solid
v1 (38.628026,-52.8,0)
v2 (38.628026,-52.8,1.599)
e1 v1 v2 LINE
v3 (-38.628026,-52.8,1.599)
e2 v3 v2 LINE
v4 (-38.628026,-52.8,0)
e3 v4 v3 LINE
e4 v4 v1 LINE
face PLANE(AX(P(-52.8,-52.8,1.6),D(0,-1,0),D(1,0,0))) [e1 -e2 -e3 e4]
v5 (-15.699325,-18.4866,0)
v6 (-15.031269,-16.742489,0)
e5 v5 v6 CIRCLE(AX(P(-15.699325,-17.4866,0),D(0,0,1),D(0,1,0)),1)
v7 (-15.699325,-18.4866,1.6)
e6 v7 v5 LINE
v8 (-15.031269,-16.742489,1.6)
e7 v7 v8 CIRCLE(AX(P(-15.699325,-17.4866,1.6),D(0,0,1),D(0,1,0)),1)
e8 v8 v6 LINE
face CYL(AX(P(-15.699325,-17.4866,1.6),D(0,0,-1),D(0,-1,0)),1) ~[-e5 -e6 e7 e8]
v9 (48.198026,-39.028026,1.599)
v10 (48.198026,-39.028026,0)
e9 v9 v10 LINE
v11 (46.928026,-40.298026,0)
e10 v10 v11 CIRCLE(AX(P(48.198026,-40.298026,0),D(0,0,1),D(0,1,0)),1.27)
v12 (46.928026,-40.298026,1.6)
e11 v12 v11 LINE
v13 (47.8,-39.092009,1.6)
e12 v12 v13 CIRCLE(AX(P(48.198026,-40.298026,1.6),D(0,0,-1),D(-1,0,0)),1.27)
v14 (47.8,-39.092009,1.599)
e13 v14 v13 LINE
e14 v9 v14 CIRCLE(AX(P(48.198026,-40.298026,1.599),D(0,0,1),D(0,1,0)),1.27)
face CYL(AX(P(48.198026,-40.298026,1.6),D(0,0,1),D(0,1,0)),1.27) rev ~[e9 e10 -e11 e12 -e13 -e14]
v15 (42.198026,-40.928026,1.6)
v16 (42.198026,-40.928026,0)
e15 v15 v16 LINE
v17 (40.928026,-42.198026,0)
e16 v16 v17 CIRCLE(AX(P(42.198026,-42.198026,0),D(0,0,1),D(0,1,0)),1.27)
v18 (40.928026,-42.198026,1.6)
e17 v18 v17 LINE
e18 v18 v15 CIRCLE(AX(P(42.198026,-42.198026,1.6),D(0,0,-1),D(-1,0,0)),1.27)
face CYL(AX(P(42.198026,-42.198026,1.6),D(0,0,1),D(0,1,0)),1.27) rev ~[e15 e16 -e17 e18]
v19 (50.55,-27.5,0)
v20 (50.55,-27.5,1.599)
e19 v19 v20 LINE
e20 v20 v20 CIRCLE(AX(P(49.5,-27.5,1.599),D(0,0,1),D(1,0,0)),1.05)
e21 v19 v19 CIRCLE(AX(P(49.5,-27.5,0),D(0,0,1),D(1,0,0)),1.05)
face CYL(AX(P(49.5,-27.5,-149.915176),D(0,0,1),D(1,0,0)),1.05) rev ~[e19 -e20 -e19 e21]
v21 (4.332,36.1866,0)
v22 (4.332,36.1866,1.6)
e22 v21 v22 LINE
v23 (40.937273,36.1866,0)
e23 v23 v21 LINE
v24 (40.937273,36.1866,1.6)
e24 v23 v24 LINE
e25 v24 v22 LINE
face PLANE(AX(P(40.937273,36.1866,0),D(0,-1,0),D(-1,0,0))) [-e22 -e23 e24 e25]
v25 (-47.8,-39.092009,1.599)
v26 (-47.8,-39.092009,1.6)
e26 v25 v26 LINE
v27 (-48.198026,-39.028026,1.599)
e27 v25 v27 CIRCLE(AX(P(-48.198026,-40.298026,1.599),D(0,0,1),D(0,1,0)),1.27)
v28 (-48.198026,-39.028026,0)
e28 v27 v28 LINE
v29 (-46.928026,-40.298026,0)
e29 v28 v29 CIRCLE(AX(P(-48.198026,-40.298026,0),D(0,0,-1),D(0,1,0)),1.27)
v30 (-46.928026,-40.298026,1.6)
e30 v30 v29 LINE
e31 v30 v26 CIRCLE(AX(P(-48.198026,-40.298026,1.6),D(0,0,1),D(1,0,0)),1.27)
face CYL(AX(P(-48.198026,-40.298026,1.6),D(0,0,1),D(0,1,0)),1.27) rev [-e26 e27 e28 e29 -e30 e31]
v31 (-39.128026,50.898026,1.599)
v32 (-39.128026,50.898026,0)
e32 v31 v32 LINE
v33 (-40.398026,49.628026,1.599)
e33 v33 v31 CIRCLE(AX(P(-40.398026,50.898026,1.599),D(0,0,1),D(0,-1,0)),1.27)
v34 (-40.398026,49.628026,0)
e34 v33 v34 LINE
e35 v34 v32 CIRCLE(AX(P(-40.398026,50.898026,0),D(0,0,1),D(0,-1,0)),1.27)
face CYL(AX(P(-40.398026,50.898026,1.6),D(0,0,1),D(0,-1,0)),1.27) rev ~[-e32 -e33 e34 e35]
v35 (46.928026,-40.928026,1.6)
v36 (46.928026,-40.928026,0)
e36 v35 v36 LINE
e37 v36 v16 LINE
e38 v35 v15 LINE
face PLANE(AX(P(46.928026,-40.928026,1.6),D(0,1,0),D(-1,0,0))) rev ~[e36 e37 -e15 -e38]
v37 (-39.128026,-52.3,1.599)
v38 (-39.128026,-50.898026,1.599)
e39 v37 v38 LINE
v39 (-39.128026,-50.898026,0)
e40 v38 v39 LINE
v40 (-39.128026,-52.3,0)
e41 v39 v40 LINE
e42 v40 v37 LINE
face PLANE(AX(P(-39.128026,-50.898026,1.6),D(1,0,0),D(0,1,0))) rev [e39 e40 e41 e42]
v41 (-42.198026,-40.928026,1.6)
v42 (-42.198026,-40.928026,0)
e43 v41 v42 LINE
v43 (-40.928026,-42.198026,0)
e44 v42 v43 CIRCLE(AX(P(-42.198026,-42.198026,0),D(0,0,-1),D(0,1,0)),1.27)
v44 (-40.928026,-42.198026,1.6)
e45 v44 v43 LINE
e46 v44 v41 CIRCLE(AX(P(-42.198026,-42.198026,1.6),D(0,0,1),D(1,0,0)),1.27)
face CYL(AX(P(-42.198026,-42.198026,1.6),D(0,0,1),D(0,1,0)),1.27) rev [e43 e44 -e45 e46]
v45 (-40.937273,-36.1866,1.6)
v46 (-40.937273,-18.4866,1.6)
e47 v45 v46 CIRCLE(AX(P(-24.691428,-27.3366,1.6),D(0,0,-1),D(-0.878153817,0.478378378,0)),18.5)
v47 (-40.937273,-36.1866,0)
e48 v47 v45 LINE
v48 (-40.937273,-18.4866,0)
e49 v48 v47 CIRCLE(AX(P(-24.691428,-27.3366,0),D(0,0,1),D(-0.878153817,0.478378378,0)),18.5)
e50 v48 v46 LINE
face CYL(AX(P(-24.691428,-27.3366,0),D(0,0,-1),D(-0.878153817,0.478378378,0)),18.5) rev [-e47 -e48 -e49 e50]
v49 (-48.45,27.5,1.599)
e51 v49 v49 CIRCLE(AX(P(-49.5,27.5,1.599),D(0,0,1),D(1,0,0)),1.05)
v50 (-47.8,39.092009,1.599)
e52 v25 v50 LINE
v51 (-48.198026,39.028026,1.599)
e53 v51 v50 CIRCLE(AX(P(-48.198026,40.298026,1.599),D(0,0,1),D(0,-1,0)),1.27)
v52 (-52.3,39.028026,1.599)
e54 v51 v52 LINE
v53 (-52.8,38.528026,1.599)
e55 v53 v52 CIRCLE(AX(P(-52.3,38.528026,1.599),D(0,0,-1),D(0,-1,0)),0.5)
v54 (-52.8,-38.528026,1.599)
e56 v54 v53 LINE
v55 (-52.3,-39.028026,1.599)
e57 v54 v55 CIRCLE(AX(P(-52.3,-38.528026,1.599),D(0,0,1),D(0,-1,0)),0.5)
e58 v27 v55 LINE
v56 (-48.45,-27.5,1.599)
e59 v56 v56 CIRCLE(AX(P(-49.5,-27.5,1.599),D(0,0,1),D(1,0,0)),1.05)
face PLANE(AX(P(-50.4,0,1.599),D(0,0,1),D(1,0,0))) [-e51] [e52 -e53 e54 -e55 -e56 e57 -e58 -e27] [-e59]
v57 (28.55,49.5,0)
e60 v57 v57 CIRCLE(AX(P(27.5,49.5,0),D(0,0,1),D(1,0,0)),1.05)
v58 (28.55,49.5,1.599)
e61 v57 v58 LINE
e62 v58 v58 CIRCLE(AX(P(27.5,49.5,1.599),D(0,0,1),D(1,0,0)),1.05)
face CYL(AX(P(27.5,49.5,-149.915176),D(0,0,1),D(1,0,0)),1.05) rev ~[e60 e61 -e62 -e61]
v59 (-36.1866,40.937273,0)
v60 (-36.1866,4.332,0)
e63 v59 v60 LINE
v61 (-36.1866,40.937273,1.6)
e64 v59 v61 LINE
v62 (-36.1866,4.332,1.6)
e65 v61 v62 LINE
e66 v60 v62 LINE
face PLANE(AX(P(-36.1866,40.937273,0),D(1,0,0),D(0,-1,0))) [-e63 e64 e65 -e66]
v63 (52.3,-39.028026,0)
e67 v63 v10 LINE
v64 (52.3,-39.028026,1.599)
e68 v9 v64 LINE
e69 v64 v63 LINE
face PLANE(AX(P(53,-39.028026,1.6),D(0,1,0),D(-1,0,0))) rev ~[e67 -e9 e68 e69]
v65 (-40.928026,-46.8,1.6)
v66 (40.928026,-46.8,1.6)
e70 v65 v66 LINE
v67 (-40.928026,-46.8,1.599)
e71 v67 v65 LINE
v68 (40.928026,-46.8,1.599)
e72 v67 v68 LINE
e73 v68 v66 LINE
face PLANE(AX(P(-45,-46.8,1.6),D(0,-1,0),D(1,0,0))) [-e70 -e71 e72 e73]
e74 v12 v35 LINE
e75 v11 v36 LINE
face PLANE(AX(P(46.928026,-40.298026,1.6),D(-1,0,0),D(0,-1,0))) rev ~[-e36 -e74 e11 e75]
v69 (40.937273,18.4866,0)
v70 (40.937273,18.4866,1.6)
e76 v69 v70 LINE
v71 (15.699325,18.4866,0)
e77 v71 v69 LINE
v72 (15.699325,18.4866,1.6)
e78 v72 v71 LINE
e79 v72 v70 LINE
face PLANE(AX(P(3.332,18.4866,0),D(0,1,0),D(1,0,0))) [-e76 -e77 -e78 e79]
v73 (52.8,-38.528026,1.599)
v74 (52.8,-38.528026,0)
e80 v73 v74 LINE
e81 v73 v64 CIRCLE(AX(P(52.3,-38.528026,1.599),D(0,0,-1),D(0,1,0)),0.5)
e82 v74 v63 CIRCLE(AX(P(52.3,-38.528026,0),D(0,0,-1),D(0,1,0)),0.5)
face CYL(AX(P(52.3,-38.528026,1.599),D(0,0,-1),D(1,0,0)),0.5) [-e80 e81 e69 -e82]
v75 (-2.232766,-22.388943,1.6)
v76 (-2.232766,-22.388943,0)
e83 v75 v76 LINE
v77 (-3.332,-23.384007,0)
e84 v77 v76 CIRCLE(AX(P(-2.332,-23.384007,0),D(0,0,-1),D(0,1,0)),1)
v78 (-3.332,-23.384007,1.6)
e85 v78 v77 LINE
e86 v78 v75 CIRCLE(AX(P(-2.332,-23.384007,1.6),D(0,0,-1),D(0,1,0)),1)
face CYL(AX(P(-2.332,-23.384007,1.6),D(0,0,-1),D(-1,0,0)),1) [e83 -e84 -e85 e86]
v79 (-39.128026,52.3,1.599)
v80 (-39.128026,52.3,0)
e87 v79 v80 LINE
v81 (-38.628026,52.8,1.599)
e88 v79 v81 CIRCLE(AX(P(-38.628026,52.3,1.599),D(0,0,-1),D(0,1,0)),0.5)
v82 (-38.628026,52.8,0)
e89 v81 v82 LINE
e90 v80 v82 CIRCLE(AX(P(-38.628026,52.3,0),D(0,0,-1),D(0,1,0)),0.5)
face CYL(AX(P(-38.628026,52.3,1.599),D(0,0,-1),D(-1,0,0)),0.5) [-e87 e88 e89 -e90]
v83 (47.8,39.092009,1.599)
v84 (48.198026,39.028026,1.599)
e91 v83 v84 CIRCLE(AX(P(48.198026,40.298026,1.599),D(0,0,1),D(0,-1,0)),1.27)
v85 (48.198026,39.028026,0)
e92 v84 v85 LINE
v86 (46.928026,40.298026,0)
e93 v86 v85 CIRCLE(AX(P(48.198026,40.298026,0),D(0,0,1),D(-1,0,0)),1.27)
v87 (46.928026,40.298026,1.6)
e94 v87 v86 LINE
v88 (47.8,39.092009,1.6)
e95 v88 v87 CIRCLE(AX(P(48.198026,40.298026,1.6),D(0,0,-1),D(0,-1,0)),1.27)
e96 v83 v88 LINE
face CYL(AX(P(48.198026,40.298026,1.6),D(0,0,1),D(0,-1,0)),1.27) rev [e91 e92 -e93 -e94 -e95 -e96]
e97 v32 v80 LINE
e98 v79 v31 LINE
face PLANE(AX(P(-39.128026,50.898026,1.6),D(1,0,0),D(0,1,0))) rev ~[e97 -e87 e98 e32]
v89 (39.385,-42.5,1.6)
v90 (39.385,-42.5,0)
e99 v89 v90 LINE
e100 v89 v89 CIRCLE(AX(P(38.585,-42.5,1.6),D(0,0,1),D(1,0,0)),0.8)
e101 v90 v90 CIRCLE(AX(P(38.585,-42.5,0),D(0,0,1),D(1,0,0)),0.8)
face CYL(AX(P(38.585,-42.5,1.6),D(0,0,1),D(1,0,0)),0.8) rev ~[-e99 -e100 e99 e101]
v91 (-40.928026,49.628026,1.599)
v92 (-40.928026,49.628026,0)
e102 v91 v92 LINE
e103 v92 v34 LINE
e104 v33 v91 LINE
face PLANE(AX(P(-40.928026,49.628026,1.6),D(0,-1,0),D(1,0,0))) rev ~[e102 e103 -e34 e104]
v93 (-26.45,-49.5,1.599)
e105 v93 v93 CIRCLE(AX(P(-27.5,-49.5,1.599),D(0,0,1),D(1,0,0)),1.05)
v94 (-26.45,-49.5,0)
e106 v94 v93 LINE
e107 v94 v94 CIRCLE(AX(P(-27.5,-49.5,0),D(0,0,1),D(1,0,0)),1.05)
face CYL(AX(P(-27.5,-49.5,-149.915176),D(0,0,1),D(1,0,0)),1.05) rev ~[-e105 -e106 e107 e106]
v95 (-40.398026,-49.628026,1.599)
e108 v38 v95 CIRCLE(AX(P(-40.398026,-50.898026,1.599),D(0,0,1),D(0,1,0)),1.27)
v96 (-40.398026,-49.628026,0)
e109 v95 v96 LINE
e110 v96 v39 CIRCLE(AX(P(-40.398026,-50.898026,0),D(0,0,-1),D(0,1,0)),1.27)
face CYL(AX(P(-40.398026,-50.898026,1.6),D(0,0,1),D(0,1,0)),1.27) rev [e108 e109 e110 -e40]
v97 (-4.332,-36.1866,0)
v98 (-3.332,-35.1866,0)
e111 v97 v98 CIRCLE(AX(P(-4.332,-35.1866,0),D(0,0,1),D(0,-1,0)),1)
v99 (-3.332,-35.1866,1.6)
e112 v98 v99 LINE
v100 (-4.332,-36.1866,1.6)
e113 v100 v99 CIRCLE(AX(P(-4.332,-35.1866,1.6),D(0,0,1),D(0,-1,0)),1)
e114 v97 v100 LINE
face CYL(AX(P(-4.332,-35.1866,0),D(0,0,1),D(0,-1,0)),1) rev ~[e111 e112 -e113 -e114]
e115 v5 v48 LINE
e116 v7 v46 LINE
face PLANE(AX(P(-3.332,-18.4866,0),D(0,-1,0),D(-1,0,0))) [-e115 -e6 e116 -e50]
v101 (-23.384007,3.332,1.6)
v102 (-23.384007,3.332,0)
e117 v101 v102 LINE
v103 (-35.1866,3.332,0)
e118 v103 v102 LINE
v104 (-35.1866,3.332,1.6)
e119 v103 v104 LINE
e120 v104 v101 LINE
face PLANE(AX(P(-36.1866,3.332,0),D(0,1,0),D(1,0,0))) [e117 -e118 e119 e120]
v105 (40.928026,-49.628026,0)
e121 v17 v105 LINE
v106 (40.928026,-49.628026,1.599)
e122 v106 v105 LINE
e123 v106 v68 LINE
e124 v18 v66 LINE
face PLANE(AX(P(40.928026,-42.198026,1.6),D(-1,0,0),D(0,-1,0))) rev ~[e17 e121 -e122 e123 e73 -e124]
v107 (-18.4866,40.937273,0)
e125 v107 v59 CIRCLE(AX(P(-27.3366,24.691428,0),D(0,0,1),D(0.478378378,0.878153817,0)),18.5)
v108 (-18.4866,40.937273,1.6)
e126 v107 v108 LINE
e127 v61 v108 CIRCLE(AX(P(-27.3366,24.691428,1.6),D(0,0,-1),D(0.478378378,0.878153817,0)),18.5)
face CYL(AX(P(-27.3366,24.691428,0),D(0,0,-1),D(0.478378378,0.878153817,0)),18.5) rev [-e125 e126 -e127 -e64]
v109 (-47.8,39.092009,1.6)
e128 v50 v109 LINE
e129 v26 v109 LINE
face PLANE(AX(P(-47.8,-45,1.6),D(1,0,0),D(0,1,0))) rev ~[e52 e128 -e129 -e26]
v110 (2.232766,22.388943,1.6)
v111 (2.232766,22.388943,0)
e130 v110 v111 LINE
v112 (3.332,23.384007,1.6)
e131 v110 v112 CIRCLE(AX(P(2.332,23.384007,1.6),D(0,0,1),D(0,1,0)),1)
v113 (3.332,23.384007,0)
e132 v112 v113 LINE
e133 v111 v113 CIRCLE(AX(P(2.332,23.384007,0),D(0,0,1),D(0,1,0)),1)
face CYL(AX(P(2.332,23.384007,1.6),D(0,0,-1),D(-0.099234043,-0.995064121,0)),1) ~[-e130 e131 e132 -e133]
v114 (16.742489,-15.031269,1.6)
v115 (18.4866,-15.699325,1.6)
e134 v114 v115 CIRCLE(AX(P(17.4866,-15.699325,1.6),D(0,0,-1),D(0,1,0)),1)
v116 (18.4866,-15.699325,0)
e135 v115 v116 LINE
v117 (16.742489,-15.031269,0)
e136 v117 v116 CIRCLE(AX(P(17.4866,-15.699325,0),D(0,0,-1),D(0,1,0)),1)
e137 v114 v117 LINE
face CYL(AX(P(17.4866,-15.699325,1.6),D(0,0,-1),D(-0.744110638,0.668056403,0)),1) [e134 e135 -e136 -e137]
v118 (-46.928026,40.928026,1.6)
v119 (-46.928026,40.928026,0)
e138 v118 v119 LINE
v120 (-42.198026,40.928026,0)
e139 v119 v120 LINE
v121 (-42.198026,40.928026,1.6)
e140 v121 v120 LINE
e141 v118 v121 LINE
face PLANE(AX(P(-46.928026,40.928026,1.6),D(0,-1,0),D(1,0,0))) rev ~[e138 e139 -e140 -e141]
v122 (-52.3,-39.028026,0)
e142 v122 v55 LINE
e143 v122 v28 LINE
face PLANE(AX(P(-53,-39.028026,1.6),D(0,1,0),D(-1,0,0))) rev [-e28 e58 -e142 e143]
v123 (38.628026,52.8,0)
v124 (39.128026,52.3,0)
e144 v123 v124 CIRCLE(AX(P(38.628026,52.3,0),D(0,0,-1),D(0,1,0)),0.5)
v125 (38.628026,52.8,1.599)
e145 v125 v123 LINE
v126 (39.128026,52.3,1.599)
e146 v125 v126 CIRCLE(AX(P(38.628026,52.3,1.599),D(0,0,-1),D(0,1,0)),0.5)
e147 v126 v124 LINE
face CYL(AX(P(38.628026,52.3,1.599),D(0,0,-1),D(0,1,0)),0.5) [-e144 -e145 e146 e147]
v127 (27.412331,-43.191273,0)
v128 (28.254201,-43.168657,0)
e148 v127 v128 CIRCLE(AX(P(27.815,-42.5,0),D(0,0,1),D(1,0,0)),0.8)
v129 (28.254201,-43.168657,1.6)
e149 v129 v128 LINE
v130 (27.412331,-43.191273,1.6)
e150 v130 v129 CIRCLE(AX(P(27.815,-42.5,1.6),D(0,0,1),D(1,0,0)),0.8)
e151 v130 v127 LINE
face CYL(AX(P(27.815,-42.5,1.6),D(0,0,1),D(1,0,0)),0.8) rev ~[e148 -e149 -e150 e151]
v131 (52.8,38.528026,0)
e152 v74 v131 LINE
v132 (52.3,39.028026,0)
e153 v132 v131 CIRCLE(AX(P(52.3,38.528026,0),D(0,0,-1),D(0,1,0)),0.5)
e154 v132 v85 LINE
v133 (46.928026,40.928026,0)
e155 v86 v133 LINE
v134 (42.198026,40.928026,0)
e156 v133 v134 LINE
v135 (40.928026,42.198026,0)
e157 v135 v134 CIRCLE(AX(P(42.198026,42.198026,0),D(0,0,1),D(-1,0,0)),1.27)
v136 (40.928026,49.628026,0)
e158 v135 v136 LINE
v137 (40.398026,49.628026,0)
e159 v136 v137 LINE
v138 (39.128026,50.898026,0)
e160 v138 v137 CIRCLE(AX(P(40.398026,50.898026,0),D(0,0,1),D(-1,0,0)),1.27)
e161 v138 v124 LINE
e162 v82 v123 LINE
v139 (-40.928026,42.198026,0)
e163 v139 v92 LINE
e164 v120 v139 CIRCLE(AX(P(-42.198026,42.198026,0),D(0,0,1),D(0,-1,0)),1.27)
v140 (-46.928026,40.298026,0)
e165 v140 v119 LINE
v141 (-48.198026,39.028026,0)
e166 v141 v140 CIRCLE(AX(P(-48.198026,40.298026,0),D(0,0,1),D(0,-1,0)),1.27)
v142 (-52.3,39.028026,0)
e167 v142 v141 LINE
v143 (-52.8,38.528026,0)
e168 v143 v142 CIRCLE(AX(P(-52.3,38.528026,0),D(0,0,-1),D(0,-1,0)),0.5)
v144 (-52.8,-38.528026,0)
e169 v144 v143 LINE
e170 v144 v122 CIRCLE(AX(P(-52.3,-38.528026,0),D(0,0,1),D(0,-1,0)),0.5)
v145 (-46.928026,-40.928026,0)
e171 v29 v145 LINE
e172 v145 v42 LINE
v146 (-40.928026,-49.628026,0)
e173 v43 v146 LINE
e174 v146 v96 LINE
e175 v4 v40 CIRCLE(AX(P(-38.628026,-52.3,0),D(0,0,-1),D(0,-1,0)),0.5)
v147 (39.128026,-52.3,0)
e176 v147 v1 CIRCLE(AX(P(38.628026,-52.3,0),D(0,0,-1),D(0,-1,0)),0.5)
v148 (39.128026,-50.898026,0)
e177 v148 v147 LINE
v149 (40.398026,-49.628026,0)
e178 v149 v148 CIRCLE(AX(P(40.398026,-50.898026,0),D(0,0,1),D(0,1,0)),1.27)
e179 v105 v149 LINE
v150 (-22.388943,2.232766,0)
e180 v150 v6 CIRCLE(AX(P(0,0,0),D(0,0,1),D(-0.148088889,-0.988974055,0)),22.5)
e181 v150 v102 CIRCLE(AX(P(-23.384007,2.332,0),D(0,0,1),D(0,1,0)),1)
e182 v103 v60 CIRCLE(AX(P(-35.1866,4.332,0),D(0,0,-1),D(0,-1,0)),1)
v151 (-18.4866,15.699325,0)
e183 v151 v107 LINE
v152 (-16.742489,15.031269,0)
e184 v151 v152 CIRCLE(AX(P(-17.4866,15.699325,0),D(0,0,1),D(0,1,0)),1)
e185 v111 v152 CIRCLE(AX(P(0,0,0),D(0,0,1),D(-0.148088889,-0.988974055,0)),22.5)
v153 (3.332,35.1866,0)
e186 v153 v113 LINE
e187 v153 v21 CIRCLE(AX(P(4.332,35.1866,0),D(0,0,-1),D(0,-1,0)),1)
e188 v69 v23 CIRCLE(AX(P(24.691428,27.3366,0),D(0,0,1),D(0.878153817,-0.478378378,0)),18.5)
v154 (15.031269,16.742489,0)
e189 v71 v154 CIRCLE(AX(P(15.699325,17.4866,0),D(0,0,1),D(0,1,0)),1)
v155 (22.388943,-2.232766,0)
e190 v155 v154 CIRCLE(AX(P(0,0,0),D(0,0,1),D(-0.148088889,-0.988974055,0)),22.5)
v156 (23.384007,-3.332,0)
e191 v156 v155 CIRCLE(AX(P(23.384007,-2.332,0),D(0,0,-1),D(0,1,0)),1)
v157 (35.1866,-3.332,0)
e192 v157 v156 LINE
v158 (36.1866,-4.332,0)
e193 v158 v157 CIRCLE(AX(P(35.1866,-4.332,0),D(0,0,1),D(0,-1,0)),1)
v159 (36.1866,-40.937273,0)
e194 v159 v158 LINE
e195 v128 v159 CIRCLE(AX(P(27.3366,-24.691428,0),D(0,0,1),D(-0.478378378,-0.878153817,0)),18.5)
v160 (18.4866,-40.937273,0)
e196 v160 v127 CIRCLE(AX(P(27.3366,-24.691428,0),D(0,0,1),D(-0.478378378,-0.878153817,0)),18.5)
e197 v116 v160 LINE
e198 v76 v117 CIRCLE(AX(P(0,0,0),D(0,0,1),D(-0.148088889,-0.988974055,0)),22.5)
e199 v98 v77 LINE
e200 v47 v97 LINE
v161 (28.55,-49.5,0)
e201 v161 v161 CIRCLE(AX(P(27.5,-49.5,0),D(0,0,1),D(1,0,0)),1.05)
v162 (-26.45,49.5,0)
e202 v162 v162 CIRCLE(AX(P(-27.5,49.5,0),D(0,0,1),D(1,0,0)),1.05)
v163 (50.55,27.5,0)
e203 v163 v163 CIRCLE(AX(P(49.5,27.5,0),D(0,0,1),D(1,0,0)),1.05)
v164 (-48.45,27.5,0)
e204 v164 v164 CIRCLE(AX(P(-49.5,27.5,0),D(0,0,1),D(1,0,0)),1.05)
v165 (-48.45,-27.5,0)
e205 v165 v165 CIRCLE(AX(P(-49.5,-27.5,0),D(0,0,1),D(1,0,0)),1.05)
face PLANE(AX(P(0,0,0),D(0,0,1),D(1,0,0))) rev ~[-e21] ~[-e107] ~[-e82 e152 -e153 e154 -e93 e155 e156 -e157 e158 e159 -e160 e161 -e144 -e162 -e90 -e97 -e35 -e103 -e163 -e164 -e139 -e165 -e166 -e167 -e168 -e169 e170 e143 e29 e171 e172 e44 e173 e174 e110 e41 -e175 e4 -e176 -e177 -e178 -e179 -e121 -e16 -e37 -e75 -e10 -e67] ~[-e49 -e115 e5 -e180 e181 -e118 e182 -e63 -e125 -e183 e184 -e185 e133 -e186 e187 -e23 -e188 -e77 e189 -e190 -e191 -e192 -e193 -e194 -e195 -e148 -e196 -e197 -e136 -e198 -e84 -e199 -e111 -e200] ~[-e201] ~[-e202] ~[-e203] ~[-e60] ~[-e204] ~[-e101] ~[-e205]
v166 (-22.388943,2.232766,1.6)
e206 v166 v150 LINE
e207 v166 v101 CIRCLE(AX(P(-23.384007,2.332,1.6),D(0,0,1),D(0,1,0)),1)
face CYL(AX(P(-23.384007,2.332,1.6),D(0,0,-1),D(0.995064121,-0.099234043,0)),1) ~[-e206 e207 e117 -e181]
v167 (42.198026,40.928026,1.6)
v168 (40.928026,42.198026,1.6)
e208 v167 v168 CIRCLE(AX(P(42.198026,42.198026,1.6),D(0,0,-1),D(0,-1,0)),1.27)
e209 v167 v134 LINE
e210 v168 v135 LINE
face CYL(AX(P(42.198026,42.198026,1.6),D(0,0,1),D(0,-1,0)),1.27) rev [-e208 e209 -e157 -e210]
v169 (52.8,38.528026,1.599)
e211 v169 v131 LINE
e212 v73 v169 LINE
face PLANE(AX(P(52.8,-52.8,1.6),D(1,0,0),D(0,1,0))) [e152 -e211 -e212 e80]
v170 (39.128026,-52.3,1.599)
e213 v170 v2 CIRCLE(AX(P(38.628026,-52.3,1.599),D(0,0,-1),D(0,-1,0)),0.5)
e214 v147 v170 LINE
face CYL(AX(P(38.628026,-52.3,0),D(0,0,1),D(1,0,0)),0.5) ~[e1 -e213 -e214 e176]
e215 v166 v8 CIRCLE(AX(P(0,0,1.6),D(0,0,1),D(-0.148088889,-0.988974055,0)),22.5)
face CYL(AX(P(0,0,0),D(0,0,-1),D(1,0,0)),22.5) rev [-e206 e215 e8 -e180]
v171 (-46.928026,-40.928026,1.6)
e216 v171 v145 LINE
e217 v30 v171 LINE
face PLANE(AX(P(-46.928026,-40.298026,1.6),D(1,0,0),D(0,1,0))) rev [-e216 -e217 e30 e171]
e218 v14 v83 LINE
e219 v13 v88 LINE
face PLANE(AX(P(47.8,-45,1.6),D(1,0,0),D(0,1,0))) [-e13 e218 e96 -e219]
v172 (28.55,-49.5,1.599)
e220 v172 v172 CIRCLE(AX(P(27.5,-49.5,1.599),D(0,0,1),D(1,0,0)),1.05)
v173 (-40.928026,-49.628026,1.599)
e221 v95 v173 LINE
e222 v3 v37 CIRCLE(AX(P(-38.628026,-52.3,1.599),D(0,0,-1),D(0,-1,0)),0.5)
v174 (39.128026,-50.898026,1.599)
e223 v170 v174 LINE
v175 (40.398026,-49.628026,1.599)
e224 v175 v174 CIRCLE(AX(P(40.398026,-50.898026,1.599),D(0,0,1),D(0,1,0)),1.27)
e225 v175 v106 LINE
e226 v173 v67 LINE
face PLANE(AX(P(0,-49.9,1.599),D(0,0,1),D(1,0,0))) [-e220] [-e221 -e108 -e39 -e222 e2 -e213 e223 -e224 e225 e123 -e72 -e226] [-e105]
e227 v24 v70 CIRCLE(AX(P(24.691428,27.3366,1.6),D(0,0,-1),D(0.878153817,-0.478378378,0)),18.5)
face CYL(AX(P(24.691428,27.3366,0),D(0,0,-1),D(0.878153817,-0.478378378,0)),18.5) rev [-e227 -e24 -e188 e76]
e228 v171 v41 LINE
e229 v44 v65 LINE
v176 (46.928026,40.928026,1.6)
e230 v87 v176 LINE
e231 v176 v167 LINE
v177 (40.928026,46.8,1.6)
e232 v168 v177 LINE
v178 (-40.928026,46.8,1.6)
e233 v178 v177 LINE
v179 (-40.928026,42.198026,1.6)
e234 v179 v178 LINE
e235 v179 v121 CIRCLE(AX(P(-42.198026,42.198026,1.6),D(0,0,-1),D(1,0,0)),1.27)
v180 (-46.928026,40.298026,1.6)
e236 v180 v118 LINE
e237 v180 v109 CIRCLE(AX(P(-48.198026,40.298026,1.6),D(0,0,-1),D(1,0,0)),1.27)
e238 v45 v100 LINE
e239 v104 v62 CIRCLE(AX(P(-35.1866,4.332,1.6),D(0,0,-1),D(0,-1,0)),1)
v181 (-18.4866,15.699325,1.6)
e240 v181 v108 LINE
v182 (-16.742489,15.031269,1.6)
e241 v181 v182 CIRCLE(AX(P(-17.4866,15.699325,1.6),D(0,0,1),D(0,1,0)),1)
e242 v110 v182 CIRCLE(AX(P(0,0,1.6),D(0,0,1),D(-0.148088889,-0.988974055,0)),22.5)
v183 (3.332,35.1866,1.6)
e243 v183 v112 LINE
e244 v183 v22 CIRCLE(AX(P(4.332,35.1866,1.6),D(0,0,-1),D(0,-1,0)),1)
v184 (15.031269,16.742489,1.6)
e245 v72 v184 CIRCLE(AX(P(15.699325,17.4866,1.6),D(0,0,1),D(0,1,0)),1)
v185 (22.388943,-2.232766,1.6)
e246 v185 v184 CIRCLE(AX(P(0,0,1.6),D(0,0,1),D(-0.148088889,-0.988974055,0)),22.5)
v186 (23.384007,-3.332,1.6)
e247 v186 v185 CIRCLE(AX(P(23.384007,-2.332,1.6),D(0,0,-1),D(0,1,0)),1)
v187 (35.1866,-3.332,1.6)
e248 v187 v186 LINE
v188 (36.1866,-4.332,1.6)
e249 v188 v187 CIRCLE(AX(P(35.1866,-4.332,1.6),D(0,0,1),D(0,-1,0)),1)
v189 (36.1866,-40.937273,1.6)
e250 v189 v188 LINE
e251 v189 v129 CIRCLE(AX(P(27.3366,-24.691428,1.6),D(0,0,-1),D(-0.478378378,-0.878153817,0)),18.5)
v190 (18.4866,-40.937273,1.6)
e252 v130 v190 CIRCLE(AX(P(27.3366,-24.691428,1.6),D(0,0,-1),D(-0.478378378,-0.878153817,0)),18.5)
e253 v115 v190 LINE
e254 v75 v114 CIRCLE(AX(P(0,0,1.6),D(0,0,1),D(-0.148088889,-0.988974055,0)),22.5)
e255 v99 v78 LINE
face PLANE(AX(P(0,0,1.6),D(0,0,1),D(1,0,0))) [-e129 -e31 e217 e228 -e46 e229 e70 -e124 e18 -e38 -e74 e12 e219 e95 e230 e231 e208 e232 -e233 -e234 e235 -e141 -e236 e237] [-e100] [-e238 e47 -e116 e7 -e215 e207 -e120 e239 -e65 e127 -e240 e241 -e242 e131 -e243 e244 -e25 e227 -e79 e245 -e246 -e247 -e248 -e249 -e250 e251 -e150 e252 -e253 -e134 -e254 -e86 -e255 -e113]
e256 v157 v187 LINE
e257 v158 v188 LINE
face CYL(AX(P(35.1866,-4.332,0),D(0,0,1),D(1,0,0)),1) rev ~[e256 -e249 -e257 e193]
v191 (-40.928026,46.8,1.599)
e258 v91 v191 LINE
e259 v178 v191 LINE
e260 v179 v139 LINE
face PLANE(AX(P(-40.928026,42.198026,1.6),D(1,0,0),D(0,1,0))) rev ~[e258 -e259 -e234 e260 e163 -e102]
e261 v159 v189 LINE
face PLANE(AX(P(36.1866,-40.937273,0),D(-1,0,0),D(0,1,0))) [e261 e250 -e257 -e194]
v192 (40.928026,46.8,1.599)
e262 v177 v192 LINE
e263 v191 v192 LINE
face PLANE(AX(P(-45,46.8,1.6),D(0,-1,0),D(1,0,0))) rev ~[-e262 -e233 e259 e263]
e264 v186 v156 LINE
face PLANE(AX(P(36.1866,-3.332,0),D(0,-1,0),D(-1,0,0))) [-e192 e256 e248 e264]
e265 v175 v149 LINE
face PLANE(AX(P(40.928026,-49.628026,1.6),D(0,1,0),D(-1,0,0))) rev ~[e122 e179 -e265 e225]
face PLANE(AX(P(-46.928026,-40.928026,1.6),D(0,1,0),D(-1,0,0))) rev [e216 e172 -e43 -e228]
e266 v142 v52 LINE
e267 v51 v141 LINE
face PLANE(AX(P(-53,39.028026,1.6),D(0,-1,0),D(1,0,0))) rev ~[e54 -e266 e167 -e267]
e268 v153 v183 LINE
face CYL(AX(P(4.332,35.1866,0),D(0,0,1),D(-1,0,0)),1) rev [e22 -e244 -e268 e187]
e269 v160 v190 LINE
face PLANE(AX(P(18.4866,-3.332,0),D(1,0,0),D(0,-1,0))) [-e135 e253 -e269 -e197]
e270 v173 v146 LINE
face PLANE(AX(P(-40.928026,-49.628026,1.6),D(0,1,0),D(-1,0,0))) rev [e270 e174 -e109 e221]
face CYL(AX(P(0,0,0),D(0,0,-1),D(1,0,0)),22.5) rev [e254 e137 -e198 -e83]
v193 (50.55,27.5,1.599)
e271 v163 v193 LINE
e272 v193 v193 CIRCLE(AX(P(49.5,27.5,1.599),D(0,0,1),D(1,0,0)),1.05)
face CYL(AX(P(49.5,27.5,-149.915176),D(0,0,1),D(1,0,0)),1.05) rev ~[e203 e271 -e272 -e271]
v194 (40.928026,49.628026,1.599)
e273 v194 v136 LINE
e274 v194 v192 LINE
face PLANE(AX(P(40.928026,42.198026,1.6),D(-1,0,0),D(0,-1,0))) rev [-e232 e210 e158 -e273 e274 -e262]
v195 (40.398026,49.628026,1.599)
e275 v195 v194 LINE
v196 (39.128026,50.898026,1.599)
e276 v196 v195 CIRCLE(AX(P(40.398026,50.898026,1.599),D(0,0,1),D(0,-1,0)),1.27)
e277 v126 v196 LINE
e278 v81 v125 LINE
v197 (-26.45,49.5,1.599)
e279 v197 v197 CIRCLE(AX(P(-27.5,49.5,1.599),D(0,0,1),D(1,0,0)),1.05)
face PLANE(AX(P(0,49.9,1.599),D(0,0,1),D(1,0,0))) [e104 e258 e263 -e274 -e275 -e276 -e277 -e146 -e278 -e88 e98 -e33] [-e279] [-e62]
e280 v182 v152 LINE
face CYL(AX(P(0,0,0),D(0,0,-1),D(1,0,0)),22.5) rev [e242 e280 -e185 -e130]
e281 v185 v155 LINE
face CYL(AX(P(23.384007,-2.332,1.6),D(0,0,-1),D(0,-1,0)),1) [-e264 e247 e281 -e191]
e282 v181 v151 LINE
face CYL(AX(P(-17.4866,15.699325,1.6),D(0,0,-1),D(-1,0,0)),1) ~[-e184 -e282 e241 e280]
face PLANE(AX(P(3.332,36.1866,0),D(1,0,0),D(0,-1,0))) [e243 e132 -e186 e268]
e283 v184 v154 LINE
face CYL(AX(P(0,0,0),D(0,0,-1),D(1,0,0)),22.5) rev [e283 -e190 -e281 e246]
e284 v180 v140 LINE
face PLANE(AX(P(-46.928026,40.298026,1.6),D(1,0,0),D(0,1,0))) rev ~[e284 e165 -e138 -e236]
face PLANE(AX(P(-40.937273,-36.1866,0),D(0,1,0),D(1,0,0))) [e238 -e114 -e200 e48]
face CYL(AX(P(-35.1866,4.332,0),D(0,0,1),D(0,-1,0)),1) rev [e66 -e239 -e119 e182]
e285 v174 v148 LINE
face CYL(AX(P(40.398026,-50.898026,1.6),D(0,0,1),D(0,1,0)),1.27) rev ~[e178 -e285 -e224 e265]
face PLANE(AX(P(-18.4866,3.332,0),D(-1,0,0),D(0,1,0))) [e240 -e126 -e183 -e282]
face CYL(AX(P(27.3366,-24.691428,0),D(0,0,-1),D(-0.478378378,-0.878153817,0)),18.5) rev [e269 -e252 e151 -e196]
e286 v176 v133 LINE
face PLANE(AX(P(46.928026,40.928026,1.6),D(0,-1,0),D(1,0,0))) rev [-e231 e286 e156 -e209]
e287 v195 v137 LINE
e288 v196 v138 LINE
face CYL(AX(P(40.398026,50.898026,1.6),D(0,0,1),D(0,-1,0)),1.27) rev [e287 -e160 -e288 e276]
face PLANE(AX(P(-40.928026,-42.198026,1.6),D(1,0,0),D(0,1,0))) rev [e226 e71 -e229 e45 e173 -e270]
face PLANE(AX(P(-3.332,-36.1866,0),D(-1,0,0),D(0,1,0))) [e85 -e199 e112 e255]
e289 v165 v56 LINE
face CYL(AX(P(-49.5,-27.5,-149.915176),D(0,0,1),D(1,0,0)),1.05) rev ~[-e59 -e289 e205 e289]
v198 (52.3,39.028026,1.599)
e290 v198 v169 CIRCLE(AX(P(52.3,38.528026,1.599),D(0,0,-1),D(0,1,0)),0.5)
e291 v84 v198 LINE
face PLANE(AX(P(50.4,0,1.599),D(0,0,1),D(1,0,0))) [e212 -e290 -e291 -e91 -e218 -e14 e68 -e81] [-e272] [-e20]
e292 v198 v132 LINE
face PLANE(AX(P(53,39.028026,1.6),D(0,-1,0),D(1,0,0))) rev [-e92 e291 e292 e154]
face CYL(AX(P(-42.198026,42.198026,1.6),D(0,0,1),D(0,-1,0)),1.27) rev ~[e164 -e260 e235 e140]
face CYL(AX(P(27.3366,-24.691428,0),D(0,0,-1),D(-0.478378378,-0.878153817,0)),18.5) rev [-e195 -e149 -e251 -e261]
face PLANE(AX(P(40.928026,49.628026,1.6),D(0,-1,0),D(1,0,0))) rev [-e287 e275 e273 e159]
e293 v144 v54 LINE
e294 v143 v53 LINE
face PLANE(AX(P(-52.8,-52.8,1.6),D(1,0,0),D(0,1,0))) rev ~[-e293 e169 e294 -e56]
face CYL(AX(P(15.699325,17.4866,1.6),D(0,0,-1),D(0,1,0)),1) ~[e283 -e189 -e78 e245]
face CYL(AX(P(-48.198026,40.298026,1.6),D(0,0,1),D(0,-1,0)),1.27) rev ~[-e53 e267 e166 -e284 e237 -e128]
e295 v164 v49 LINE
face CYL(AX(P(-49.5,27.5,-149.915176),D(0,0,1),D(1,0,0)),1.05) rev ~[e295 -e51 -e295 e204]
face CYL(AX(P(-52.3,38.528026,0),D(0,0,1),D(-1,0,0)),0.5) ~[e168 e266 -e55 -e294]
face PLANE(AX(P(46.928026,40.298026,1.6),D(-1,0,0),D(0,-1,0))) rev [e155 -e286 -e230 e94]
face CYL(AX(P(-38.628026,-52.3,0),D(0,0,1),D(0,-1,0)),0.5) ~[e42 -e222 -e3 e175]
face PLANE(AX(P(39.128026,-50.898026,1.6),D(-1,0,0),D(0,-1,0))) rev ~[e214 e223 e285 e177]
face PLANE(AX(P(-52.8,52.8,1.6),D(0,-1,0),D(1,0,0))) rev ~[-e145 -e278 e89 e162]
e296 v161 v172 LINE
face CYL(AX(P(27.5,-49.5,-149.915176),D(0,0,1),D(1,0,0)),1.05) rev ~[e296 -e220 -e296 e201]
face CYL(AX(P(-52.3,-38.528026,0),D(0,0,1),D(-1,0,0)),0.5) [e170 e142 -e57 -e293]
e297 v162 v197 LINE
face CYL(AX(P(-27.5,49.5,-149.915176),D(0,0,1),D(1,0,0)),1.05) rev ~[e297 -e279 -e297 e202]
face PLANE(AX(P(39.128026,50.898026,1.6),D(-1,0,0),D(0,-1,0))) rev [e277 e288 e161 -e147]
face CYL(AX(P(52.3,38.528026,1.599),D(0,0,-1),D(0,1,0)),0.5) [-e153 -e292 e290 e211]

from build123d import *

# Parameters (mm, degrees)
SKETCH1_W                           = 106
SKETCH1_H                           = 106
MAINOUTLINE_DEPTH                   = 1.6
SKETCH4_W                           = 11.7
SKETCH4_H                           = 11.7
RAILCUTOUTS_DEPTH                   = 2.6
FILLETCUTOUTS_START                 = -2.6
SKETCH13_W                          = 5.7
SKETCH13_H                          = 1.9
SKETCH13_W_2                        = 1.8
SKETCH13_H_2                        = 3
FILLETCUTOUTS_DEPTH                 = 3.6
SMOOTHCORNER_DEPTH                  = 10
MIRROR2_COPY_1_SKETCH_W             = 11.7
MIRROR2_COPY_1_SKETCH_H             = 11.7
MIRROR2_COPY_1_DEPTH                = 2.6
MIRROR2_START                       = -2.6
MIRROR2_COPY_2_SKETCH_W             = 5.7
MIRROR2_COPY_2_SKETCH_H             = 1.9
MIRROR2_COPY_2_SKETCH_W_2           = 1.8
MIRROR2_COPY_2_SKETCH_H_2           = 3
MIRROR2_COPY_2_DEPTH                = 3.6
MIRROR2_COPY_3_DEPTH                = 10
MIRROR2_COPY_4_SKETCH_W             = 11.7
MIRROR2_COPY_4_SKETCH_H             = 11.7
MIRROR2_COPY_4_DEPTH                = 2.6
MIRROR2_COPY_5_SKETCH_W             = 5.7
MIRROR2_COPY_5_SKETCH_H             = 1.9
MIRROR2_COPY_5_SKETCH_W_2           = 1.8
MIRROR2_COPY_5_SKETCH_H_2           = 3
MIRROR2_COPY_5_DEPTH                = 3.6
M2_CLEARANCE_HOLE1_D                = 2.1
SKETCH12_R                          = 0.8
INTERBOARDCONNECTORHOLES_DEPTH      = 1
INTERBOARDCONNECTORHOLES_DEPTH_BACK = 2.6
SKETCH16_W                          = 90
SKETCH16_H                          = 6.2
SKETCH16_W_2                        = 5.2
SKETCH16_H_2                        = 90
CUT_EXTRUDE6_DEPTH                  = 0.001
SKETCH21_R                          = 22.5
CUT_EXTRUDE10_DEPTH                 = 2.6
CUT_EXTRUDE10_DEPTH_BACK            = 1
F_2U_TURNSTILE_CUTOUT_REACH         = 3.6
SKETCH24_OUTSIDE_W                  = 137.984
SKETCH24_OUTSIDE_H                  = 137.984
SKETCH24_OUTSIDE_W_2                = 105.6
SKETCH24_OUTSIDE_H_2                = 105.6
CUT_EXTRUDE19_DEPTH                 = 2.6
FILLET7_R                           = 0.5
FILLET8_R                           = 1


with BuildPart() as part:
    # Sketch1 → mainOutline (new body)
    with BuildSketch(Plane.XY):
        Rectangle(SKETCH1_W, SKETCH1_H)
    extrude(amount=MAINOUTLINE_DEPTH)

    # Sketch4 → railCutouts (cut, through all)
    with BuildSketch(Plane(origin=(0, 0, 0), x_dir=(-1, 0, 0), z_dir=(0, 0, -1))):
        with Locations((47.15, 47.15)):
            Rectangle(SKETCH4_W, SKETCH4_H)
    railcutouts = extrude(amount=-RAILCUTOUTS_DEPTH, mode=Mode.SUBTRACT)

    # Sketch13 → filletCutouts (cut)
    with BuildSketch(Plane(origin=(0, 0, 0), x_dir=(-1, 0, 0), z_dir=(0, 0, -1)).offset(FILLETCUTOUTS_START)):
        with Locations((50.15, 40.35)):
            Rectangle(SKETCH13_W, SKETCH13_H)
        with Locations((40.4, 51.5)):
            Rectangle(SKETCH13_W_2, SKETCH13_H_2)
    filletcutouts = extrude(amount=FILLETCUTOUTS_DEPTH, mode=Mode.SUBTRACT)

    # Sketch27 → smoothCorner (cut)
    with BuildSketch(Plane.XY.offset(1.6)):
        with BuildLine():
            Line((-40.928025612, 42.198025612), (-40.928025612, 49.628025612))
            Line((-40.928025612, 49.628025612), (-40.398025612, 49.628025612))
            ThreePointArc((-40.398025612, 49.628025612), (-39.5, 50), (-39.128025612, 50.898025612))
            Line((-39.128025612, 50.898025612), (-39.128025612, 53))
            Line((-39.128025612, 53), (-53, 53))
            Line((-53, 53), (-53, 39.028025612))
            Line((-53, 39.028025612), (-48.198025612, 39.028025612))
            ThreePointArc((-48.198025612, 39.028025612), (-47.3, 39.4), (-46.928025612, 40.298025612))
            Line((-46.928025612, 40.298025612), (-46.928025612, 40.928025612))
            Line((-46.928025612, 40.928025612), (-42.198025612, 40.928025612))
            ThreePointArc((-42.198025612, 40.928025612), (-41.3, 41.3), (-40.928025612, 42.198025612))
        make_face()
    smoothcorner = extrude(amount=-SMOOTHCORNER_DEPTH, mode=Mode.SUBTRACT)

    # Mirror1: railCutouts, filletCutouts, smoothCorner across plane
    add(railcutouts.mirror(Plane(origin=(0, 0, 0), x_dir=(0, 0, 1), z_dir=(1, 0, 0))), mode=Mode.SUBTRACT)
    add(filletcutouts.mirror(Plane(origin=(0, 0, 0), x_dir=(0, 0, 1), z_dir=(1, 0, 0))), mode=Mode.SUBTRACT)
    add(smoothcorner.mirror(Plane(origin=(0, 0, 0), x_dir=(0, 0, 1), z_dir=(1, 0, 0))), mode=Mode.SUBTRACT)

    # Mirror2: smoothCorner across plane
    add(smoothcorner.mirror(Plane.ZX), mode=Mode.SUBTRACT)

    # Mirror2 copy 1 sketch → Mirror2 copy 1 (cut, through all)
    with BuildSketch(Plane(origin=(0, 0, 0), x_dir=(1, 0, 0), z_dir=(0, 0, -1))):
        with Locations((47.15, 47.15)):
            Rectangle(MIRROR2_COPY_1_SKETCH_W, MIRROR2_COPY_1_SKETCH_H)
    extrude(amount=-MIRROR2_COPY_1_DEPTH, mode=Mode.SUBTRACT)

    # Mirror2 copy 2 sketch → Mirror2 copy 2 (cut)
    with BuildSketch(Plane(origin=(0, 0, 0), x_dir=(1, 0, 0), z_dir=(0, 0, -1)).offset(MIRROR2_START)):
        with Locations((50.15, 40.35)):
            Rectangle(MIRROR2_COPY_2_SKETCH_W, MIRROR2_COPY_2_SKETCH_H)
        with Locations((40.4, 51.5)):
            Rectangle(MIRROR2_COPY_2_SKETCH_W_2, MIRROR2_COPY_2_SKETCH_H_2)
    extrude(amount=MIRROR2_COPY_2_DEPTH, mode=Mode.SUBTRACT)

    # Mirror2 copy 3 sketch → Mirror2 copy 3 (cut)
    with BuildSketch(Plane(origin=(0, 0, 1.6), x_dir=(-1, 0, 0), z_dir=(0, 0, 1))):
        with BuildLine():
            Line((-40.928025612, 42.198025612), (-40.928025612, 49.628025612))
            Line((-40.928025612, 49.628025612), (-40.398025612, 49.628025612))
            ThreePointArc((-40.398025612, 49.628025612), (-39.5, 50), (-39.128025612, 50.898025612))
            Line((-39.128025612, 50.898025612), (-39.128025612, 53))
            Line((-39.128025612, 53), (-53, 53))
            Line((-53, 53), (-53, 39.028025612))
            Line((-53, 39.028025612), (-48.198025612, 39.028025612))
            ThreePointArc((-48.198025612, 39.028025612), (-47.3, 39.4), (-46.928025612, 40.298025612))
            Line((-46.928025612, 40.298025612), (-46.928025612, 40.928025612))
            Line((-46.928025612, 40.928025612), (-42.198025612, 40.928025612))
            ThreePointArc((-42.198025612, 40.928025612), (-41.3, 41.3), (-40.928025612, 42.198025612))
        make_face()
    extrude(amount=-MIRROR2_COPY_3_DEPTH, mode=Mode.SUBTRACT)

    # Mirror2 copy 4 sketch → Mirror2 copy 4 (cut, through all)
    with BuildSketch(Plane(origin=(0, 0, 0), x_dir=(-1, 0, 0), z_dir=(0, 0, -1))):
        with Locations((47.15, -47.15)):
            Rectangle(MIRROR2_COPY_4_SKETCH_W, MIRROR2_COPY_4_SKETCH_H)
    extrude(amount=-MIRROR2_COPY_4_DEPTH, mode=Mode.SUBTRACT)

    # Mirror2 copy 5 sketch → Mirror2 copy 5 (cut)
    with BuildSketch(Plane(origin=(0, 0, 0), x_dir=(-1, 0, 0), z_dir=(0, 0, -1)).offset(MIRROR2_START)):
        with Locations((50.15, -40.35)):
            Rectangle(MIRROR2_COPY_5_SKETCH_W, MIRROR2_COPY_5_SKETCH_H)
        with Locations((40.4, -51.5)):
            Rectangle(MIRROR2_COPY_5_SKETCH_W_2, MIRROR2_COPY_5_SKETCH_H_2)
    extrude(amount=MIRROR2_COPY_5_DEPTH, mode=Mode.SUBTRACT)

    # M2 Clearance Hole1 (through all)
    with Locations(Plane(origin=(0, 0, 0), x_dir=(-1, 0, 0), z_dir=(0, 0, -1))):
        with Locations((49.5, -27.5), (27.5, -49.5), (-49.5, -27.5), (-27.5, -49.5), (-27.5, 49.5), (-49.5, 27.5), (27.5, 49.5), (49.5, 27.5)):
            Hole(M2_CLEARANCE_HOLE1_D / 2)

    # Sketch12 → interboardConnectorHoles (cut, two sides)
    with BuildSketch(Plane.XY.offset(1.6)) as interboardconnectorholes_sk:
        with Locations((27.815, -42.5)):
            Circle(SKETCH12_R)
        with Locations((38.585, -42.5)):
            Circle(SKETCH12_R)
    extrude(amount=INTERBOARDCONNECTORHOLES_DEPTH, mode=Mode.SUBTRACT)
    extrude(interboardconnectorholes_sk.sketch, amount=-INTERBOARDCONNECTORHOLES_DEPTH_BACK, mode=Mode.SUBTRACT)

    # Sketch16 → Cut-Extrude6 (cut)
    with BuildSketch(Plane.XY.offset(1.6)):
        with Locations((0, -49.9)):
            Rectangle(SKETCH16_W, SKETCH16_H)
        with Locations((0, 49.9)):
            Rectangle(SKETCH16_W, SKETCH16_H)
        with Locations((-50.4, 0)):
            Rectangle(SKETCH16_W_2, SKETCH16_H_2)
        with Locations((50.4, 0)):
            Rectangle(SKETCH16_W_2, SKETCH16_H_2)
    extrude(amount=-CUT_EXTRUDE6_DEPTH, mode=Mode.SUBTRACT)

    # Sketch21 → Cut-Extrude10 (cut, two sides)
    with BuildSketch(Plane.XY) as cut_extrude10_sk:
        Circle(SKETCH21_R)
    extrude(amount=CUT_EXTRUDE10_DEPTH, mode=Mode.SUBTRACT)
    extrude(cut_extrude10_sk.sketch, amount=-CUT_EXTRUDE10_DEPTH_BACK, mode=Mode.SUBTRACT)

    # Sketch25 → 2U turnstile cutout (cut, up to next)
    with BuildSketch(Plane(origin=(0, 0, 0), x_dir=(-1, 0, 0), z_dir=(0, 0, -1)), mode=Mode.PRIVATE) as f_2u_turnstile_cutout_sk1:
        with BuildLine():
            Line((40.937273383, -36.1866), (3.332, -36.1866))
            Line((3.332, -36.1866), (3.332, -18.4866))
            Line((3.332, -18.4866), (40.937273383, -18.4866))
            ThreePointArc((40.937273383, -18.4866), (43.19142776, -27.3366), (40.937273383, -36.1866))
        make_face()
    f_2u_turnstile_cutout_tool1 = extrude(f_2u_turnstile_cutout_sk1.sketch, amount=-F_2U_TURNSTILE_CUTOUT_REACH, mode=Mode.PRIVATE) & part.part
    add(f_2u_turnstile_cutout_tool1.solids().sort_by_distance((-22.901342, -27.3366, 0))[0], mode=Mode.SUBTRACT)
    # Sketch25 → 2U turnstile cutout (cut, up to next)
    with BuildSketch(Plane(origin=(0, 0, 0), x_dir=(-1, 0, 0), z_dir=(0, 0, -1)), mode=Mode.PRIVATE) as f_2u_turnstile_cutout_sk2:
        with BuildLine():
            Line((-18.4866, -3.332), (-18.4866, -40.937273383))
            ThreePointArc((-18.4866, -40.937273383), (-27.3366, -43.19142776), (-36.1866, -40.937273383))
            Line((-36.1866, -40.937273383), (-36.1866, -3.332))
            Line((-36.1866, -3.332), (-18.4866, -3.332))
        make_face()
    f_2u_turnstile_cutout_tool2 = extrude(f_2u_turnstile_cutout_sk2.sketch, amount=-F_2U_TURNSTILE_CUTOUT_REACH, mode=Mode.PRIVATE) & part.part
    add(f_2u_turnstile_cutout_tool2.solids().sort_by_distance((27.3366, -22.901342, 0))[0], mode=Mode.SUBTRACT)
    # Sketch25 → 2U turnstile cutout (cut, up to next)
    with BuildSketch(Plane(origin=(0, 0, 0), x_dir=(-1, 0, 0), z_dir=(0, 0, -1)), mode=Mode.PRIVATE) as f_2u_turnstile_cutout_sk3:
        with BuildLine():
            Line((-3.332, 18.4866), (-40.937273383, 18.4866))
            ThreePointArc((-40.937273383, 18.4866), (-43.19142776, 27.3366), (-40.937273383, 36.1866))
            Line((-40.937273383, 36.1866), (-3.332, 36.1866))
            Line((-3.332, 36.1866), (-3.332, 18.4866))
        make_face()
    f_2u_turnstile_cutout_tool3 = extrude(f_2u_turnstile_cutout_sk3.sketch, amount=-F_2U_TURNSTILE_CUTOUT_REACH, mode=Mode.PRIVATE) & part.part
    add(f_2u_turnstile_cutout_tool3.solids().sort_by_distance((22.901342, 27.3366, 0))[0], mode=Mode.SUBTRACT)
    # Sketch25 → 2U turnstile cutout (cut, up to next)
    with BuildSketch(Plane(origin=(0, 0, 0), x_dir=(-1, 0, 0), z_dir=(0, 0, -1)), mode=Mode.PRIVATE) as f_2u_turnstile_cutout_sk4:
        with BuildLine():
            Line((18.4866, 3.332), (18.4866, 40.937273383))
            ThreePointArc((18.4866, 40.937273383), (27.3366, 43.19142776), (36.1866, 40.937273383))
            Line((36.1866, 40.937273383), (36.1866, 3.332))
            Line((36.1866, 3.332), (18.4866, 3.332))
        make_face()
    f_2u_turnstile_cutout_tool4 = extrude(f_2u_turnstile_cutout_sk4.sketch, amount=-F_2U_TURNSTILE_CUTOUT_REACH, mode=Mode.PRIVATE) & part.part
    add(f_2u_turnstile_cutout_tool4.solids().sort_by_distance((-27.3366, 22.901342, 0))[0], mode=Mode.SUBTRACT)

    # Sketch24 outside → Cut-Extrude19 (cut, through all)
    with BuildSketch(Plane.XY.offset(1.6)):
        Rectangle(SKETCH24_OUTSIDE_W, SKETCH24_OUTSIDE_H)
        Rectangle(SKETCH24_OUTSIDE_W_2, SKETCH24_OUTSIDE_H_2, mode=Mode.SUBTRACT)
    extrude(amount=-CUT_EXTRUDE19_DEPTH, mode=Mode.SUBTRACT)

    # Fillet7
    fillet7_edges = [part.edges().sort_by_distance(p)[0] for p in [
        (-52.8, -39.028025612, 0.7995),
        (-39.128025612, -52.8, 0.7995),
        (52.8, -39.028025612, 0.7995),
        (39.128025612, 52.8, 0.7995),
        (52.8, 39.028025612, 0.7995),
        (39.128025612, -52.8, 0.7995),
        (-52.8, 39.028025612, 0.7995),
        (-39.128025612, 52.8, 0.7995),
    ]]
    fillet(fillet7_edges, radius=FILLET7_R)

    # Fillet8
    fillet8_edges = [part.edges().sort_by_distance(p)[0] for p in [
        (-36.1866, 3.332, 0.8),
        (-22.251916232, 3.332, 0.8),
        (-18.4866, 12.825584604, 0.8),
        (3.332, 36.1866, 0.8),
        (3.332, 22.251916232, 0.8),
        (12.825584604, 18.4866, 0.8),
        (36.1866, -3.332, 0.8),
        (22.251916232, -3.332, 0.8),
        (18.4866, -12.825584604, 0.8),
        (-3.332, -36.1866, 0.8),
        (-3.332, -22.251916232, 0.8),
        (-12.825584604, -18.4866, 0.8),
    ]]
    fillet(fillet8_edges, radius=FILLET8_R)


solid = part.part
